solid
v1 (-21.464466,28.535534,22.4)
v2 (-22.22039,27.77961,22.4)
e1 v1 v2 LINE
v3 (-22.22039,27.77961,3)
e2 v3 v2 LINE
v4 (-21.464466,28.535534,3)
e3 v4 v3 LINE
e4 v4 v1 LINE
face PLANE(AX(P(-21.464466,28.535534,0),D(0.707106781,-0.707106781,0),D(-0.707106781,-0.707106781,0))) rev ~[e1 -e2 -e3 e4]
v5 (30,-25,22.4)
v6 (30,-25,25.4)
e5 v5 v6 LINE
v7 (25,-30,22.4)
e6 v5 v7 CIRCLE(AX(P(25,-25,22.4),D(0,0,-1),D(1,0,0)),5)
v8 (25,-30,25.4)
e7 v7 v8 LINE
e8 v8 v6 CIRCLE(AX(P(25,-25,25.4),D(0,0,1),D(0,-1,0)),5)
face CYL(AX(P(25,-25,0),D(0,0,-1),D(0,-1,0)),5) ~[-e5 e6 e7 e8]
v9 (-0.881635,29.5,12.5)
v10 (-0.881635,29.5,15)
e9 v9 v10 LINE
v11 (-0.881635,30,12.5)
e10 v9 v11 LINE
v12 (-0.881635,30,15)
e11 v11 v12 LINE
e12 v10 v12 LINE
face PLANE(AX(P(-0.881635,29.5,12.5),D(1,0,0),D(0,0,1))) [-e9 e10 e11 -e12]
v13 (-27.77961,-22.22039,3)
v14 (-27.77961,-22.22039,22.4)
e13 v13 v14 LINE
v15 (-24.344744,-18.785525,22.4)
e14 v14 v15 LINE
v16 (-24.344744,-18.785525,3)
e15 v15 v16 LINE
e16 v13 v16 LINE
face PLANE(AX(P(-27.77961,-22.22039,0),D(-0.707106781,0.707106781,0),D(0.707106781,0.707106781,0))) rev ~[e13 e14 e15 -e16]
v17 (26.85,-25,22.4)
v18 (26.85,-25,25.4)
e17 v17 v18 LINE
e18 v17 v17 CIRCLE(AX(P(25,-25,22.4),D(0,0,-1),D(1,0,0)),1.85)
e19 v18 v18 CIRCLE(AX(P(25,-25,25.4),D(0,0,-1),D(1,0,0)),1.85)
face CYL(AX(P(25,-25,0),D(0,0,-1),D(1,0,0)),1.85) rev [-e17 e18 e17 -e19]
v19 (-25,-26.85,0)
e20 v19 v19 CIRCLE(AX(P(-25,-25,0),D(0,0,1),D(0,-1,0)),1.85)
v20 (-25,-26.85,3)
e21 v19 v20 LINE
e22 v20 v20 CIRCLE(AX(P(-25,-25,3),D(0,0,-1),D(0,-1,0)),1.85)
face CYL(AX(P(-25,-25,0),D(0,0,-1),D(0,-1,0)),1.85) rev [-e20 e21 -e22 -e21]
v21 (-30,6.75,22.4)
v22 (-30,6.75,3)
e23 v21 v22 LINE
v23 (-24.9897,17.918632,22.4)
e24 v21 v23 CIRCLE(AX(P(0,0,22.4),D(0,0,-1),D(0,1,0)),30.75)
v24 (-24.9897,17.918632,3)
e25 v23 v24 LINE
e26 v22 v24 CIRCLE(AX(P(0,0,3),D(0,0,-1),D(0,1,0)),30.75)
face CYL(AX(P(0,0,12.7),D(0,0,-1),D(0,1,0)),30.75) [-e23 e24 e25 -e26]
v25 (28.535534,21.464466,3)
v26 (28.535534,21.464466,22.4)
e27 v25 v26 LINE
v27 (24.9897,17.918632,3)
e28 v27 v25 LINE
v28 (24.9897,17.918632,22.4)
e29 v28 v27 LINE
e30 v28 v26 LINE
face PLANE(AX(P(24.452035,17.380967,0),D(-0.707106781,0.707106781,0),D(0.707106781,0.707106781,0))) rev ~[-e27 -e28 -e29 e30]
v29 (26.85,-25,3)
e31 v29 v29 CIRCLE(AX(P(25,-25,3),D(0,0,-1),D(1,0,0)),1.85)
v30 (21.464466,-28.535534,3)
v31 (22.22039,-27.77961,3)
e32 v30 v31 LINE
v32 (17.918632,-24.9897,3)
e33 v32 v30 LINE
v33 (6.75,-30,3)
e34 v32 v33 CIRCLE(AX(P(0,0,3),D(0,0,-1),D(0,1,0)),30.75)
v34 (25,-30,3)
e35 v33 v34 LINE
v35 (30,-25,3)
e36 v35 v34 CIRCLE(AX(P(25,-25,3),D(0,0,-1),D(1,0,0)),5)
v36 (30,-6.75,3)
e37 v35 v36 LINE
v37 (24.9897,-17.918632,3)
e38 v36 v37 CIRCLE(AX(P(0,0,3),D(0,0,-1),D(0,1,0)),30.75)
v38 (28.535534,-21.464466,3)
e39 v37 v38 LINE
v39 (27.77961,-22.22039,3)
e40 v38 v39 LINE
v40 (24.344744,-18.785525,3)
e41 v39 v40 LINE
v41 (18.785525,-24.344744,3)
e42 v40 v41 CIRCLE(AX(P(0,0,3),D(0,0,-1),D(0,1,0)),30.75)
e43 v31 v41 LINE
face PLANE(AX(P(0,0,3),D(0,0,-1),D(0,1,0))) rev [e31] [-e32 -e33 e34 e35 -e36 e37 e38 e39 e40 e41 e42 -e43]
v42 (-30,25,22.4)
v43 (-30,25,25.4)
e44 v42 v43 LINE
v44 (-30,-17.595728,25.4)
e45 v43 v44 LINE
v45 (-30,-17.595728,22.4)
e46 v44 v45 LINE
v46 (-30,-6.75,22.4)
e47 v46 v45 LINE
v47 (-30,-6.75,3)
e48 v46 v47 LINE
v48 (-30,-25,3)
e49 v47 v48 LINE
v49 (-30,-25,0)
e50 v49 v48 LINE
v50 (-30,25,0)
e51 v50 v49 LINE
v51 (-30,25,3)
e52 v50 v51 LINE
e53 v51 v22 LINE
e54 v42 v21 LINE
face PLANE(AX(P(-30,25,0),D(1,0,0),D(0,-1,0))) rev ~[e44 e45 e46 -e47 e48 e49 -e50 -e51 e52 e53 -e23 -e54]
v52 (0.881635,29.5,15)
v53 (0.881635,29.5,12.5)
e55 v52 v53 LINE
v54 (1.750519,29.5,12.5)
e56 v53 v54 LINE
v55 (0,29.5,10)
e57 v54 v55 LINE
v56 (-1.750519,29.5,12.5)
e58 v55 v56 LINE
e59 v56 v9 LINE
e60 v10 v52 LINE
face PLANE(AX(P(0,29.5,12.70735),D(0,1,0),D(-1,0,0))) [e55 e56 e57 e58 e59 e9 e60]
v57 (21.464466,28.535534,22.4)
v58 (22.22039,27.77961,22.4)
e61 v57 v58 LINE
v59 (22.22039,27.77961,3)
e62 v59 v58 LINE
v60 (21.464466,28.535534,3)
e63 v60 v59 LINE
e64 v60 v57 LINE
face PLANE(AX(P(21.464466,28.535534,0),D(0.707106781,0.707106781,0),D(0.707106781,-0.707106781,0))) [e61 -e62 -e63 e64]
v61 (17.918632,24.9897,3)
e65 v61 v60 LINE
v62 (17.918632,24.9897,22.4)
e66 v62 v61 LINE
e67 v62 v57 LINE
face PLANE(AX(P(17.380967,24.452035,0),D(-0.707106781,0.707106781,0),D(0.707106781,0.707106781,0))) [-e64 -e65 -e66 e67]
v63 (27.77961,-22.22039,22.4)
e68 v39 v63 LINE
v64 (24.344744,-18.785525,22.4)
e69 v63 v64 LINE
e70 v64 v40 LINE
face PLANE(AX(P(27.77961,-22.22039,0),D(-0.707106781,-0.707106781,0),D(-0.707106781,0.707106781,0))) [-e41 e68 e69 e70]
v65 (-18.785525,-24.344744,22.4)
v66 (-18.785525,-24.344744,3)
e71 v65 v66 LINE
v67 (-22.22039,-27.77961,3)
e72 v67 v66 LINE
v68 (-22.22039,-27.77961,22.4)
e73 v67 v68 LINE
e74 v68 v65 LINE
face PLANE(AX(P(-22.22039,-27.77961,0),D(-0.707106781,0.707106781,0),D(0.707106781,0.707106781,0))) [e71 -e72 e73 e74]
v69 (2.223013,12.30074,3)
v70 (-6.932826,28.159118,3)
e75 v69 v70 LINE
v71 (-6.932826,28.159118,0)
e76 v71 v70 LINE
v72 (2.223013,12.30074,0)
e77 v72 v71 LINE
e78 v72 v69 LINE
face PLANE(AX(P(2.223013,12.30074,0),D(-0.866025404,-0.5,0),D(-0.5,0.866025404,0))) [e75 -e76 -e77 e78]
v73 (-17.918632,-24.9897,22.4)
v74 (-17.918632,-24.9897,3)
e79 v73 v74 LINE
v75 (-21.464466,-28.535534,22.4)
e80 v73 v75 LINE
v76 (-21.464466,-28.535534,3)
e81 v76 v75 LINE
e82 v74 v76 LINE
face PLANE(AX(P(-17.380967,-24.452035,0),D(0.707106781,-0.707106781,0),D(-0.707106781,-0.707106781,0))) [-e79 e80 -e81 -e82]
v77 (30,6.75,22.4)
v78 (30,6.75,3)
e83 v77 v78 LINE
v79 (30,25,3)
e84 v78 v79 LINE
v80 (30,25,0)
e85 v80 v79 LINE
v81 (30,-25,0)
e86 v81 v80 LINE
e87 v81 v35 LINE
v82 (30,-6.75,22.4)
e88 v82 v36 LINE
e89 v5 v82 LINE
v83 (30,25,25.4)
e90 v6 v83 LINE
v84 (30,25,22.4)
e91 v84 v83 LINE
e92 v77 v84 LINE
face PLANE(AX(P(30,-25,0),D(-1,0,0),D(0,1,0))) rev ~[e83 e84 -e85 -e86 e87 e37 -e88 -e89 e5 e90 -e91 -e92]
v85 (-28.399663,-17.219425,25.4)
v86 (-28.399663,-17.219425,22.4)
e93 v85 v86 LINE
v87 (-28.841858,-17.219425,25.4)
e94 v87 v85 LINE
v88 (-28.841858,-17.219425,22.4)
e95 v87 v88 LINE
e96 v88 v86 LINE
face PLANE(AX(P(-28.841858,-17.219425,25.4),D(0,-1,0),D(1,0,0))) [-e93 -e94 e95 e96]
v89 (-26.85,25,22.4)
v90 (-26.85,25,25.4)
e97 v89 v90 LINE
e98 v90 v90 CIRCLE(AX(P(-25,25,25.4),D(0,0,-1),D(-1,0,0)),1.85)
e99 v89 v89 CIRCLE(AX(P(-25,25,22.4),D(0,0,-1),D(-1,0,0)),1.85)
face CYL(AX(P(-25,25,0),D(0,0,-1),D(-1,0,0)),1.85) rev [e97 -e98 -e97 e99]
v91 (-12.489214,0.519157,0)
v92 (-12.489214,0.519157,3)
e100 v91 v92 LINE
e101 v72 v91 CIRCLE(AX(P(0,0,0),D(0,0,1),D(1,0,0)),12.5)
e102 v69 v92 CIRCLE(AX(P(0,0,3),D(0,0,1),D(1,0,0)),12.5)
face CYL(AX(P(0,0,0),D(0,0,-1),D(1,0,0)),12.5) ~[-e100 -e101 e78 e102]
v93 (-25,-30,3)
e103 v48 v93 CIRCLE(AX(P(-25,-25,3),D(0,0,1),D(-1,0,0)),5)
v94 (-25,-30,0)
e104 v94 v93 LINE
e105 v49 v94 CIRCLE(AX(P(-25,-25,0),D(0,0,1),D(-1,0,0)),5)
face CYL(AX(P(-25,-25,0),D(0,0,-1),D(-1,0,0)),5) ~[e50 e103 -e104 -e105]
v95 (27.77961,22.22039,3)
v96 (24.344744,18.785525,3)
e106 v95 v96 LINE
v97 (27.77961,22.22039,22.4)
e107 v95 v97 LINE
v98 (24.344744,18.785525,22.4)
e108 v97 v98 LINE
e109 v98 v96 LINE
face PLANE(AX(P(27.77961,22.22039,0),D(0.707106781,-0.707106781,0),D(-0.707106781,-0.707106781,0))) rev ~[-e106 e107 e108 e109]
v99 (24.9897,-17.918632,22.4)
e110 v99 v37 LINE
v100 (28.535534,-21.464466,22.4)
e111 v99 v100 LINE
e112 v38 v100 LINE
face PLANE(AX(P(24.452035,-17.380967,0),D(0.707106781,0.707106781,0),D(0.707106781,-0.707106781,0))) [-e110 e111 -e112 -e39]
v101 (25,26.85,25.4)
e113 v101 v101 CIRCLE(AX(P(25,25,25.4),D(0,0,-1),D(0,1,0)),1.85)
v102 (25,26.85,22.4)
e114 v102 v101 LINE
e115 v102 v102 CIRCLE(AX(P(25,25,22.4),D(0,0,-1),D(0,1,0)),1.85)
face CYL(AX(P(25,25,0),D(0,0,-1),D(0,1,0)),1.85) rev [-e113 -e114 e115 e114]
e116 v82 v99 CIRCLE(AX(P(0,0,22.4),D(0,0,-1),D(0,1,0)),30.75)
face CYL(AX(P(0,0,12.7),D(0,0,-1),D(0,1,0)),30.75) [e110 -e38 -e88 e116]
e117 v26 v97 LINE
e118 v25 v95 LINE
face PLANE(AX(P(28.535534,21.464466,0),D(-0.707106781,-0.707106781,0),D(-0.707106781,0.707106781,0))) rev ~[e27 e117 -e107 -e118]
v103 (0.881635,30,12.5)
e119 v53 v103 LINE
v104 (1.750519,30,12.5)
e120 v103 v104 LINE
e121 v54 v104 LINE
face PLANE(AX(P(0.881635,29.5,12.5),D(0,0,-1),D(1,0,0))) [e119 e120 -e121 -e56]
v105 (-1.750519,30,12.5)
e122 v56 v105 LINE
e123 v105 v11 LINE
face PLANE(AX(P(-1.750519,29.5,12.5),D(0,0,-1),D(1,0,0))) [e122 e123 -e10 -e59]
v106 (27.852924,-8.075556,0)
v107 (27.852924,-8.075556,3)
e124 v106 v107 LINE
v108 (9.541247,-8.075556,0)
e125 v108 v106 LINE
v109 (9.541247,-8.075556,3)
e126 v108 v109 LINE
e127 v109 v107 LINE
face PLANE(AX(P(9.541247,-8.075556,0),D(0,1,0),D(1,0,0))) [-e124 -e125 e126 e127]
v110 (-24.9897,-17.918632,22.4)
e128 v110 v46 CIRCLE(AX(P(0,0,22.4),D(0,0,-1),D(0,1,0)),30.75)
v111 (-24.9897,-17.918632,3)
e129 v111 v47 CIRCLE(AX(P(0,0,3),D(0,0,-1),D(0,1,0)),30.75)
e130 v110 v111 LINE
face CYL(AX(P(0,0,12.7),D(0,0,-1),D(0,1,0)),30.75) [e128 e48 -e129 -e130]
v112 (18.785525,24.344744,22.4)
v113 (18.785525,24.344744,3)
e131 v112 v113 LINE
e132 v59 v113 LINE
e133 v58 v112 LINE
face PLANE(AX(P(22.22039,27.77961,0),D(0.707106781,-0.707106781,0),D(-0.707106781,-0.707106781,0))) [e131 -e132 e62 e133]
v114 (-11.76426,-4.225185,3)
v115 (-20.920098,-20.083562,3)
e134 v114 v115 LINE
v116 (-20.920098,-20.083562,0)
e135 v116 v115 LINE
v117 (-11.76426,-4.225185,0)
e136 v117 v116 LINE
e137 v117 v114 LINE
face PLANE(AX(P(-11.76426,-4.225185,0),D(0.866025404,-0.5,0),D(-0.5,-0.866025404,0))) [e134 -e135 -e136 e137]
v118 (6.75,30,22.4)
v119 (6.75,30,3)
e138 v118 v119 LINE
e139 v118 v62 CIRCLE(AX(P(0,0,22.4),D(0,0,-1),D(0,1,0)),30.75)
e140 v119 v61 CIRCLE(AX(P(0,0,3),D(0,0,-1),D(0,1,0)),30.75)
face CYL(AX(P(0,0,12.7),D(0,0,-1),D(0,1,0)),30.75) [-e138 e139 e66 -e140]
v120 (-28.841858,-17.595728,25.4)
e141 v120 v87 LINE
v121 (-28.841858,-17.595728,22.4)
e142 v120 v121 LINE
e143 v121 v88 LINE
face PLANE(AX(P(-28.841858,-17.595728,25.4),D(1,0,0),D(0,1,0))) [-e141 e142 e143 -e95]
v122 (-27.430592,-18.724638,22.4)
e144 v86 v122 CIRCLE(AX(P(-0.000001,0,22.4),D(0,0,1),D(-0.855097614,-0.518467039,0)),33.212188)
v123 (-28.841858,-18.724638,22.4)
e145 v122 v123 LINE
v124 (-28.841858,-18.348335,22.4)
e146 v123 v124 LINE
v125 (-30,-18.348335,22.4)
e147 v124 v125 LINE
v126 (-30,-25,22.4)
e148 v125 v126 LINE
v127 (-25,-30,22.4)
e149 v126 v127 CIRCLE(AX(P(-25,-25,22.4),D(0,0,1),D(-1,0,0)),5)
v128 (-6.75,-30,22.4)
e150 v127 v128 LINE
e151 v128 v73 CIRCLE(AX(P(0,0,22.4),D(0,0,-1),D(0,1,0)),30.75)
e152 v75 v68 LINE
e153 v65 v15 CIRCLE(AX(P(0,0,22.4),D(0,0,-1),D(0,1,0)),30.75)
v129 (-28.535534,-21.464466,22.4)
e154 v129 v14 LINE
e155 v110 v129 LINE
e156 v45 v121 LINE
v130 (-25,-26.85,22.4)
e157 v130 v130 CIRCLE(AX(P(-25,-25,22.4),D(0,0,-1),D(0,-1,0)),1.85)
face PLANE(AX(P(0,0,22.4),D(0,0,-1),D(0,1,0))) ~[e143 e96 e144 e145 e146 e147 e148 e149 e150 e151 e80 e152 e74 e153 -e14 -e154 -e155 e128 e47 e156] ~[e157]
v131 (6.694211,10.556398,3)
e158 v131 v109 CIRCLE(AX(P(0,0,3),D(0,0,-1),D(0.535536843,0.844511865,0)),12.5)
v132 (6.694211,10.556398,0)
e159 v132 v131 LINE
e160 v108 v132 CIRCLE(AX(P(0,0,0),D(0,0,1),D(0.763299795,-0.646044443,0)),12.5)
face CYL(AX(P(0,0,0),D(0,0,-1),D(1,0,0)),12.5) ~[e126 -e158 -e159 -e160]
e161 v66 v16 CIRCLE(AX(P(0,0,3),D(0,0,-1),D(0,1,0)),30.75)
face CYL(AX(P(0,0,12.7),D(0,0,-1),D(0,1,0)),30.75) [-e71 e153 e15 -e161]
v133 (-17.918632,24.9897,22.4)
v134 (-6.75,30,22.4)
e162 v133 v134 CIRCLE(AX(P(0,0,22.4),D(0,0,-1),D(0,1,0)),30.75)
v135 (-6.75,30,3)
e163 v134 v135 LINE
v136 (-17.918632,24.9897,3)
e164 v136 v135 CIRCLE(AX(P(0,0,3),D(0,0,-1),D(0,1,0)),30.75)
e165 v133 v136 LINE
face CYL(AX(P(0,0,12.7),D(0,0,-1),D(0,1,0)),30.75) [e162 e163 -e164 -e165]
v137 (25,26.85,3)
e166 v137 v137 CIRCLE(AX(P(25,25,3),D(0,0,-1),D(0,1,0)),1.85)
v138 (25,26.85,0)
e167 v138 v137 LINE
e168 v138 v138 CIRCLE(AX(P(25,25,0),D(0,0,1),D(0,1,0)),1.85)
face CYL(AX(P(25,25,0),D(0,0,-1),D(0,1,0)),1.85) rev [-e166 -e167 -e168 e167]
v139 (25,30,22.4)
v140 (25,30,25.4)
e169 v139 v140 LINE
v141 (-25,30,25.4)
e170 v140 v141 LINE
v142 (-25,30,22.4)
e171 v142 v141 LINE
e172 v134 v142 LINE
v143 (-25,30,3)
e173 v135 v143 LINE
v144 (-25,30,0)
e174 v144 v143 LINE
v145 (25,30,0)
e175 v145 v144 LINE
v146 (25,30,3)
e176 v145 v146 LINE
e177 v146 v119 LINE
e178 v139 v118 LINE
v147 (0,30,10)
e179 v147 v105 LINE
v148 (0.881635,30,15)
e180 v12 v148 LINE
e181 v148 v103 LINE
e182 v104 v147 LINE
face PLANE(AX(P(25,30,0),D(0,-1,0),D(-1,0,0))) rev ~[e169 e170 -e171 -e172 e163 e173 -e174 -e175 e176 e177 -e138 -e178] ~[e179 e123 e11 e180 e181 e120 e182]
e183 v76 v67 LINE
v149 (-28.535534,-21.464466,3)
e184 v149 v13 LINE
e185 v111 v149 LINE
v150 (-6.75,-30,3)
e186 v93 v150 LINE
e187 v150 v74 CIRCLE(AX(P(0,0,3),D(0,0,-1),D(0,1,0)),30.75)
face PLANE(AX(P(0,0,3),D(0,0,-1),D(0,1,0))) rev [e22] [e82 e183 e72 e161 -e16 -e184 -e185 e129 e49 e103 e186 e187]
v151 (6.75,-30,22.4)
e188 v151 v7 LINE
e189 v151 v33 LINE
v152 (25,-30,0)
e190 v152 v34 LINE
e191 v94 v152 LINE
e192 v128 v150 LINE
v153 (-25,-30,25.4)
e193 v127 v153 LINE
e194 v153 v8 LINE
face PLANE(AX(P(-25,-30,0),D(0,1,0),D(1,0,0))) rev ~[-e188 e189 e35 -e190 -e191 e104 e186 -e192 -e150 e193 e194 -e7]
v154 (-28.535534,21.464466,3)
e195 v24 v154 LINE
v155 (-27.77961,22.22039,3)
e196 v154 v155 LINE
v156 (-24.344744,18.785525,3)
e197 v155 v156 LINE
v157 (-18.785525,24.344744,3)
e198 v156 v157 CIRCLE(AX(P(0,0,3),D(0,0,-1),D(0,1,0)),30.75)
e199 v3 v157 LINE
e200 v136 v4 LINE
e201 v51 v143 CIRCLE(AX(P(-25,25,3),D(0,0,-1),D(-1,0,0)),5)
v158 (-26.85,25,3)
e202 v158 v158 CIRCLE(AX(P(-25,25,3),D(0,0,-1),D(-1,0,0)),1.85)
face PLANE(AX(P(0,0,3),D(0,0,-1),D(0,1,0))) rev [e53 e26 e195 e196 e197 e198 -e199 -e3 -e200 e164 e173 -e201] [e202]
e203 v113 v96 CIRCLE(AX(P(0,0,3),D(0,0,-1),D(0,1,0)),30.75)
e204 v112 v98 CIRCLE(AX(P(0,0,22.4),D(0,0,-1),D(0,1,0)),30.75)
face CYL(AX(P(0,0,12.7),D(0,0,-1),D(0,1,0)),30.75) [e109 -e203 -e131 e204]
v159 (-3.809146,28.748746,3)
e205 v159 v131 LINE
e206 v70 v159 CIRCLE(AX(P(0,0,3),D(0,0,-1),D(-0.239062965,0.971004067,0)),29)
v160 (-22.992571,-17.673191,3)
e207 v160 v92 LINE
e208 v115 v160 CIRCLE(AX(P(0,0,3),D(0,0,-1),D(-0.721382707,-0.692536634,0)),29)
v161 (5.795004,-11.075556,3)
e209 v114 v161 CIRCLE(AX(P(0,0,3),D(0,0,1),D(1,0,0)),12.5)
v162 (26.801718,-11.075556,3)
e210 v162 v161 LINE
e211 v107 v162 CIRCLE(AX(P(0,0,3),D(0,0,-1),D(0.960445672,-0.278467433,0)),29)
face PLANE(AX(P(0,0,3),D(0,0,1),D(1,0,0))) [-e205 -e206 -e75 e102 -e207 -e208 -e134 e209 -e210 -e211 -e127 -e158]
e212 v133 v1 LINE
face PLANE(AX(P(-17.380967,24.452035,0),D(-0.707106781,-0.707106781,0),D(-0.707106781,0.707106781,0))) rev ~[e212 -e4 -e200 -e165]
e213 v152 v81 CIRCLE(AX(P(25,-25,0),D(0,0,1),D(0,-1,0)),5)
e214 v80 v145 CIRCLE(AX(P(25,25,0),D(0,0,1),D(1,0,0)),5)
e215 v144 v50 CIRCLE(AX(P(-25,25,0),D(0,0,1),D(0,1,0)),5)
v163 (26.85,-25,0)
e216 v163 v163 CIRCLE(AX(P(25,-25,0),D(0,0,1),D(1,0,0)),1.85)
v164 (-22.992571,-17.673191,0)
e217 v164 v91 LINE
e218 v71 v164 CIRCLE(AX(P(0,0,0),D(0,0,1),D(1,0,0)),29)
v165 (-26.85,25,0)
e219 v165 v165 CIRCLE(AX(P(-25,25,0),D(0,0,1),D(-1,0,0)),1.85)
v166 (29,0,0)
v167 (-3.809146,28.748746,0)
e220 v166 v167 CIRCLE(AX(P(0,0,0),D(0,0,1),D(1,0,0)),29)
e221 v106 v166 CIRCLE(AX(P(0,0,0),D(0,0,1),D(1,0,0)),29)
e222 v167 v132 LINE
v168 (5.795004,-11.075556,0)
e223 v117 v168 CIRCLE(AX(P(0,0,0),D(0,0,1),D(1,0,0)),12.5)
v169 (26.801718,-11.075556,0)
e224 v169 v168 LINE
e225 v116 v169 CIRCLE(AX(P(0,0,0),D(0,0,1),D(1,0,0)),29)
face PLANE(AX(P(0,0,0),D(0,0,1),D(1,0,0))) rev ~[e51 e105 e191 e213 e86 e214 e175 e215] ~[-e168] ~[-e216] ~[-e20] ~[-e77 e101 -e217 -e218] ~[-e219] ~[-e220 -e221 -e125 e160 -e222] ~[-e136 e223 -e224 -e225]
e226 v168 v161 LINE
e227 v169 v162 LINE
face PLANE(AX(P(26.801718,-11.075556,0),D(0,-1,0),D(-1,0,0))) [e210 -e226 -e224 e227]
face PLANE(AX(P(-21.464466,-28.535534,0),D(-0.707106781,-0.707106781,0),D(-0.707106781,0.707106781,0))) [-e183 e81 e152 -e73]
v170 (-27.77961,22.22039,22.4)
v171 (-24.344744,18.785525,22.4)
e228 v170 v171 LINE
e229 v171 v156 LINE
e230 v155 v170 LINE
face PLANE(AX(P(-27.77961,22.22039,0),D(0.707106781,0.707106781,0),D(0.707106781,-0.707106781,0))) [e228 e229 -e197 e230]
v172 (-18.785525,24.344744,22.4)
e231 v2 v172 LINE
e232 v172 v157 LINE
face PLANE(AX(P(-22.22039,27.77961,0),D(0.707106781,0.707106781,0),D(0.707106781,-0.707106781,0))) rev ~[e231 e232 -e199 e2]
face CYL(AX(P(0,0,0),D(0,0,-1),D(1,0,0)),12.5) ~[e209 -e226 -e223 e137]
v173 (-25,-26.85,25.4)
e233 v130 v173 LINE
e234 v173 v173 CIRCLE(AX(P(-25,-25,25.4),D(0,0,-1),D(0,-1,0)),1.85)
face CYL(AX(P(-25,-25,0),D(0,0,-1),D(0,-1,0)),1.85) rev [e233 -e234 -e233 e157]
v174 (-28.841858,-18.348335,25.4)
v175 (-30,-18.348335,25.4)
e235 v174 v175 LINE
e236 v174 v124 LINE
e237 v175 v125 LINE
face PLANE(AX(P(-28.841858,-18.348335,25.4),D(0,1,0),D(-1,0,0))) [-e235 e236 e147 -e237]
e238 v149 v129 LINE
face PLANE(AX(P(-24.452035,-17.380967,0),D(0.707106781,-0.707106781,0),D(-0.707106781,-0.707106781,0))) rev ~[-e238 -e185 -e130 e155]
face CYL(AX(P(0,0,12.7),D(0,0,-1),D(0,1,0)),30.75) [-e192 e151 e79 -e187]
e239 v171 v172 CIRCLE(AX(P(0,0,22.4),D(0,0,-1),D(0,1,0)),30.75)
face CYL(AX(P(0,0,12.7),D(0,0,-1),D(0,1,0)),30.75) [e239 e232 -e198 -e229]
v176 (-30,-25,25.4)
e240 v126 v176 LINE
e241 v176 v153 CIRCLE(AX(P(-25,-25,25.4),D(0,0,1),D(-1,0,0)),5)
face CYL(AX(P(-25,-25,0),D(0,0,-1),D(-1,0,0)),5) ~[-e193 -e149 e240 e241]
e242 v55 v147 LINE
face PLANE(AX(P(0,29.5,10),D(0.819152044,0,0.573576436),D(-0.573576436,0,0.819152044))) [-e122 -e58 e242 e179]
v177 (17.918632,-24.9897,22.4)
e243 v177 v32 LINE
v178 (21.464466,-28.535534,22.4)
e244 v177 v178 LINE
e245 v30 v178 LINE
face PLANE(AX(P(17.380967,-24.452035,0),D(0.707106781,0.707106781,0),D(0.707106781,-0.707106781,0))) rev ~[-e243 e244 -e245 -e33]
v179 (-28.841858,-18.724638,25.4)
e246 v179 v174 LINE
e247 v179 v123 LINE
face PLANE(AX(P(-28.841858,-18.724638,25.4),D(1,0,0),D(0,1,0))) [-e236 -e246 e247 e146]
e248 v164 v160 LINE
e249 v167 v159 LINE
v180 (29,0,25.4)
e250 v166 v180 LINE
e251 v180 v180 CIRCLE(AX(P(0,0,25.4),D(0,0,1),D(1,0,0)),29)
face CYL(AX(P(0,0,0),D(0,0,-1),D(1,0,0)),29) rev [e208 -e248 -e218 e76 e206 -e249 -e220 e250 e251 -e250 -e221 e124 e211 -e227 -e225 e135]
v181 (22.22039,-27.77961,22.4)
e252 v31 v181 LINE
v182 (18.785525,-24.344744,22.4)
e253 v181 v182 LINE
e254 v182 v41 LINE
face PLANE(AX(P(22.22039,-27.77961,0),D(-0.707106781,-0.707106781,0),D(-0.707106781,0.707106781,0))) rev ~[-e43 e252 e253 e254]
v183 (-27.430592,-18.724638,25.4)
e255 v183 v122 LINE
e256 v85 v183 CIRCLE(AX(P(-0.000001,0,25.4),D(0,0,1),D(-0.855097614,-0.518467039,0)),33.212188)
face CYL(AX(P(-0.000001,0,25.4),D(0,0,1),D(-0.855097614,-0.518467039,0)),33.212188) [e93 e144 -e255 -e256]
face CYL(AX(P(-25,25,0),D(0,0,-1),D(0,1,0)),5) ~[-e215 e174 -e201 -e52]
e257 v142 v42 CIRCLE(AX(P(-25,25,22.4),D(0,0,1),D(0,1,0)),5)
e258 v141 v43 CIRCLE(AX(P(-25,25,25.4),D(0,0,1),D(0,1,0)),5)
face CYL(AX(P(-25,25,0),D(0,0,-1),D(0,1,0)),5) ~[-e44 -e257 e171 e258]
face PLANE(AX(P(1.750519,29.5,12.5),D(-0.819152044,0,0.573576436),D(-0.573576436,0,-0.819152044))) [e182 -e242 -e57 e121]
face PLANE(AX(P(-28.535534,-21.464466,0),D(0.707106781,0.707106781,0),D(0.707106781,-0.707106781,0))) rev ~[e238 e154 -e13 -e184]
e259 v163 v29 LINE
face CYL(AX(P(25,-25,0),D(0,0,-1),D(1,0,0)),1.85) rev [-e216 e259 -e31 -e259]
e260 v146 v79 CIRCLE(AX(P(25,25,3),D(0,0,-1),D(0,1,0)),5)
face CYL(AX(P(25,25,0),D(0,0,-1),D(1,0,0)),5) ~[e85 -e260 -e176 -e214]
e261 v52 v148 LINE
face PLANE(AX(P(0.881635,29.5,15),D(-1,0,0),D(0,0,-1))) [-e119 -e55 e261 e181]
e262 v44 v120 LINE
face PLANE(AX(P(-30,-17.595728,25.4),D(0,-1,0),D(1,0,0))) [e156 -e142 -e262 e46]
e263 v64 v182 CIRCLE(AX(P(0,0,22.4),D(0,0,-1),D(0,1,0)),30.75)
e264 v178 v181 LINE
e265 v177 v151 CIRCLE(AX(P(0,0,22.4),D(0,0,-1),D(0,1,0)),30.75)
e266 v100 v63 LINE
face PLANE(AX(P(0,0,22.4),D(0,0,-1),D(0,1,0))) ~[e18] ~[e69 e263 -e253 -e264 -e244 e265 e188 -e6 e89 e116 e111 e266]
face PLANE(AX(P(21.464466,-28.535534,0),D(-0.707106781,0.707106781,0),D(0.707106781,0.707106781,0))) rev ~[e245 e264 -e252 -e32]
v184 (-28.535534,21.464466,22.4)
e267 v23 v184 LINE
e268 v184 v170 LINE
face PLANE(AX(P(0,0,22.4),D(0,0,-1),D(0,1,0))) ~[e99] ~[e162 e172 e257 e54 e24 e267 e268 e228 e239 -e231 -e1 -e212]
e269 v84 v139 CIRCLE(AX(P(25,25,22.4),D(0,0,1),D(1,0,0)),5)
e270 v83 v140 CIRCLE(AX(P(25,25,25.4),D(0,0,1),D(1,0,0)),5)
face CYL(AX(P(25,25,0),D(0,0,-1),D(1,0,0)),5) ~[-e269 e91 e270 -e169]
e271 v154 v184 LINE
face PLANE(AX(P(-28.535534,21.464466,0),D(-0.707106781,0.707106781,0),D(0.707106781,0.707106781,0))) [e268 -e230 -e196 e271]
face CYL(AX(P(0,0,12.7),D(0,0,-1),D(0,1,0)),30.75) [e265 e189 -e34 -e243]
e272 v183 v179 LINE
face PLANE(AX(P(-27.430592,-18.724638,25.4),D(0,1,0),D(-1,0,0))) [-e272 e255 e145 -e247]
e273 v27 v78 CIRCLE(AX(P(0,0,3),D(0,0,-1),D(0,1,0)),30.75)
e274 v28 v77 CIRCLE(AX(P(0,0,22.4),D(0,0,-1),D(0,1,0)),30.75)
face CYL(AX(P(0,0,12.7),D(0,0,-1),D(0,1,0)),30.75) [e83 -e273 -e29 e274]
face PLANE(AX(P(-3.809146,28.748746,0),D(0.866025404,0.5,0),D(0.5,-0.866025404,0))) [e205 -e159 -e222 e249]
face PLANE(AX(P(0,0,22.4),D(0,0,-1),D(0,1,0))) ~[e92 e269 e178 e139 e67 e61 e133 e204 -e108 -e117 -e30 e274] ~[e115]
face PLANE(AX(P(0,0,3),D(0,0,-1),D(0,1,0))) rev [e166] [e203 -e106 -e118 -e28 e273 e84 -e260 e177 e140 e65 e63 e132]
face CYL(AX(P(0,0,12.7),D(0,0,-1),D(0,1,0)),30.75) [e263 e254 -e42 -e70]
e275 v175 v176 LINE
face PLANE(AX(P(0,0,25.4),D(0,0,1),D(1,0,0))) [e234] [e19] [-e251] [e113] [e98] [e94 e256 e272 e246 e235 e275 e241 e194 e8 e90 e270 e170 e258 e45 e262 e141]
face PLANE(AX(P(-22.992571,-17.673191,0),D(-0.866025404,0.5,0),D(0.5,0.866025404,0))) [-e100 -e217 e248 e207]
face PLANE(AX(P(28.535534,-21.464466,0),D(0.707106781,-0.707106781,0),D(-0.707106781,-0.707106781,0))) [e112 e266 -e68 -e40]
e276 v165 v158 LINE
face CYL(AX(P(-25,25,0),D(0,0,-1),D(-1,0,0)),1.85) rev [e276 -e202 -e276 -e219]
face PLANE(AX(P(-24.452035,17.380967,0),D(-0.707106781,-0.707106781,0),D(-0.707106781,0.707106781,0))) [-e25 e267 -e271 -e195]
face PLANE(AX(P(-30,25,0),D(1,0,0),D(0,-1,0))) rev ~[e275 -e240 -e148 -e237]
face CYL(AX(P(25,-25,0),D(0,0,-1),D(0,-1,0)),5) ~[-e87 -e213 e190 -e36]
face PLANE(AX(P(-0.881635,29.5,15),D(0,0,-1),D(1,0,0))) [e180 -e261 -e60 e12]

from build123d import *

# Parameters (mm, degrees)
SKETCH_BODY_R                       = 29
BODY_DEPTH                          = 25.4
SKETCH_CUT_BODY_W                   = 19.4
SKETCH_CUT_BODY_H                   = 9.605339059
REINFORCMENT_STRIP_REACH            = 51.449
CIRPATTERN_REINFORCMENT_STRIP_COUNT = 4
SKETCH_FIXING_HOLE_R                = 1.85
FIXING_HOLE_DEPTH                   = 50.44855913
CIRPATTERN_FIXING_HOLE_COUNT        = 4
BONE_DEPTH                          = 3
CIRPATTERN_BONE_COUNT               = 3
CUT_REINFORCMENT_STRIP_HOLE_DEPTH   = 22.4
SKETCH_FIXING_PLATE_FAN_R           = 12.5
FIXING_PLATE_FAN_DEPTH              = 3
AIR_EXHAUST_DEPTH                   = 72.312060691


with BuildPart() as part:
    # Sketch-Body → Body (new body)
    with BuildSketch(Plane.XY):
        with BuildLine():
            Line((-25, -30), (25, -30))
            ThreePointArc((25, -30), (28.535533906, -28.535533906), (30, -25))
            Line((30, -25), (30, 25))
            ThreePointArc((30, 25), (28.535533906, 28.535533906), (25, 30))
            Line((25, 30), (-25, 30))
            ThreePointArc((-25, 30), (-28.535533906, 28.535533906), (-30, 25))
            Line((-30, 25), (-30, -25))
            ThreePointArc((-30, -25), (-28.535533906, -28.535533906), (-25, -30))
        make_face()
        Circle(SKETCH_BODY_R, mode=Mode.SUBTRACT)
    extrude(amount=BODY_DEPTH)

    # Sketch-Cut-Body → Cut-Body (revolve, cut)
    with BuildSketch(Plane(origin=(0, 0, 0), x_dir=(0, 0, -1), z_dir=(1, 0, 0))):
        with Locations((-12.7, 35.55266953)):
            Rectangle(SKETCH_CUT_BODY_W, SKETCH_CUT_BODY_H)
    revolve(axis=Axis((0, 0, 25.4), (0, 0, -1)), mode=Mode.SUBTRACT)

    # Sketch-Reinforcment-Strip → Reinforcment-Strip (add, up to next)
    with BuildSketch(Plane.XY, mode=Mode.PRIVATE) as reinforcment_strip_sk1:
        with BuildLine():
            Line((24.452034569, 17.380966757), (28.535533906, 21.464466094))
            Line((28.535533906, 21.464466094), (27.779609669, 22.220390331))
            Line((27.779609669, 22.220390331), (23.809915661, 18.250696322))
            ThreePointArc((23.809915661, 18.250696322), (24.13489315, 17.818724214), (24.452034569, 17.380966757))
        make_face()
    reinforcment_strip_tool1 = extrude(reinforcment_strip_sk1.sketch, amount=REINFORCMENT_STRIP_REACH, mode=Mode.PRIVATE) - part.part
    # Sketch-Reinforcment-Strip → Reinforcment-Strip (add, up to next)
    with BuildSketch(Plane.XY, mode=Mode.PRIVATE) as reinforcment_strip_sk2:
        with BuildLine():
            Line((17.380966757, 24.452034569), (21.464466094, 28.535533906))
            Line((21.464466094, 28.535533906), (22.220390331, 27.779609669))
            Line((22.220390331, 27.779609669), (18.250696322, 23.809915661))
            ThreePointArc((18.250696322, 23.809915661), (17.818724214, 24.13489315), (17.380966757, 24.452034569))
        make_face()
    reinforcment_strip_tool2 = extrude(reinforcment_strip_sk2.sketch, amount=REINFORCMENT_STRIP_REACH, mode=Mode.PRIVATE) - part.part
    reinforcment_strip_1 = reinforcment_strip_tool1.solids().sort_by_distance((26.147081, 19.828375, 0))[0]
    add(reinforcment_strip_1)
    reinforcment_strip_2 = reinforcment_strip_tool2.solids().sort_by_distance((19.828375, 26.147081, 0))[0]
    add(reinforcment_strip_2)
    reinforcment_strip = reinforcment_strip_1 + reinforcment_strip_2  # Reinforcment-Strip as one shape, for the pattern or mirror that repeats it

    # CirPattern-Reinforcment-Strip: Reinforcment-Strip ×4 about axis
    cirpattern_reinforcment_strip_axis = Axis((0, 0, 0), (0, 0, 1))
    for i in range(1, CIRPATTERN_REINFORCMENT_STRIP_COUNT):
        add(reinforcment_strip.rotate(cirpattern_reinforcment_strip_axis, i * 360 / CIRPATTERN_REINFORCMENT_STRIP_COUNT))

    # Sketch-Fixing-Hole → Fixing-Hole (cut, through all)
    with BuildSketch(Plane.XY):
        with Locations(Location((25, 25, 0), (0, 0, 90))):
            Circle(SKETCH_FIXING_HOLE_R)
    fixing_hole = extrude(amount=FIXING_HOLE_DEPTH, mode=Mode.SUBTRACT)

    # CirPattern-Fixing-Hole: Fixing-Hole ×4 about axis
    cirpattern_fixing_hole_axis = Axis((0, 0, 0), (0, 0, 1))
    for i in range(1, CIRPATTERN_FIXING_HOLE_COUNT):
        add(fixing_hole.rotate(cirpattern_fixing_hole_axis, i * 360 / CIRPATTERN_FIXING_HOLE_COUNT), mode=Mode.SUBTRACT)

    # Sketch-Bone → Bone (add)
    with BuildSketch(Plane.XY):
        with BuildLine():
            Line((-11.764259967, -4.225184898), (-20.920098492, -20.08356241))
            ThreePointArc((-20.920098492, -20.08356241), (-21.989386414, -18.906794681), (-22.992571288, -17.673190589))
            Line((-22.992571288, -17.673190589), (-12.489214378, 0.519157229))
            ThreePointArc((-12.489214378, 0.519157229), (-12.356575173, -1.888133998), (-11.764259967, -4.225184898))
        make_face()
    bone = extrude(amount=BONE_DEPTH)

    # CirPattern-Bone: Bone ×3 about axis
    cirpattern_bone_axis = Axis((0, 0, 0), (0, 0, 1))
    for i in range(1, CIRPATTERN_BONE_COUNT):
        add(bone.rotate(cirpattern_bone_axis, i * 360 / CIRPATTERN_BONE_COUNT))

    # Sketch1 → Cut-Reinforcment-Strip-Hole (cut)
    with BuildSketch(Plane.XY.offset(25.4)):
        with BuildLine():
            Line((-27.430592324, -18.724638365), (-28.841857513, -18.724638365))
            Line((-28.841857513, -18.724638365), (-28.841857513, -18.34833506))
            Line((-28.841857513, -18.34833506), (-30, -18.34833506))
            Line((-30, -18.34833506), (-30, -17.59572845))
            Line((-30, -17.59572845), (-28.841857513, -17.59572845))
            Line((-28.841857513, -17.59572845), (-28.841857513, -17.219425145))
            Line((-28.841857513, -17.219425145), (-28.399663287, -17.219425145))
            ThreePointArc((-28.399663287, -17.219425145), (-27.925271299, -17.978562235), (-27.430592324, -18.724638365))
        make_face()
    extrude(amount=-CUT_REINFORCMENT_STRIP_HOLE_DEPTH, mode=Mode.SUBTRACT)

    # Sketch-Fixing-Plate-Fan → Fixing-Plate-Fan (add)
    with BuildSketch(Plane.XY):
        Circle(SKETCH_FIXING_PLATE_FAN_R)
    extrude(amount=FIXING_PLATE_FAN_DEPTH)

    # Sketch4 → Air-Exhaust (cut, through all)
    with BuildSketch(Plane(origin=(0, 29.5, 0), x_dir=(-1, 0, 0), z_dir=(0, 1, 0))):
        Polygon((0.881634904, 15), (-0.881634904, 15), (-0.881634904, 12.5), (-1.750518846, 12.5), (0, 10), (1.750518846, 12.5), (0.881634904, 12.5), align=None)
    extrude(amount=AIR_EXHAUST_DEPTH, mode=Mode.SUBTRACT)


solid = part.part
